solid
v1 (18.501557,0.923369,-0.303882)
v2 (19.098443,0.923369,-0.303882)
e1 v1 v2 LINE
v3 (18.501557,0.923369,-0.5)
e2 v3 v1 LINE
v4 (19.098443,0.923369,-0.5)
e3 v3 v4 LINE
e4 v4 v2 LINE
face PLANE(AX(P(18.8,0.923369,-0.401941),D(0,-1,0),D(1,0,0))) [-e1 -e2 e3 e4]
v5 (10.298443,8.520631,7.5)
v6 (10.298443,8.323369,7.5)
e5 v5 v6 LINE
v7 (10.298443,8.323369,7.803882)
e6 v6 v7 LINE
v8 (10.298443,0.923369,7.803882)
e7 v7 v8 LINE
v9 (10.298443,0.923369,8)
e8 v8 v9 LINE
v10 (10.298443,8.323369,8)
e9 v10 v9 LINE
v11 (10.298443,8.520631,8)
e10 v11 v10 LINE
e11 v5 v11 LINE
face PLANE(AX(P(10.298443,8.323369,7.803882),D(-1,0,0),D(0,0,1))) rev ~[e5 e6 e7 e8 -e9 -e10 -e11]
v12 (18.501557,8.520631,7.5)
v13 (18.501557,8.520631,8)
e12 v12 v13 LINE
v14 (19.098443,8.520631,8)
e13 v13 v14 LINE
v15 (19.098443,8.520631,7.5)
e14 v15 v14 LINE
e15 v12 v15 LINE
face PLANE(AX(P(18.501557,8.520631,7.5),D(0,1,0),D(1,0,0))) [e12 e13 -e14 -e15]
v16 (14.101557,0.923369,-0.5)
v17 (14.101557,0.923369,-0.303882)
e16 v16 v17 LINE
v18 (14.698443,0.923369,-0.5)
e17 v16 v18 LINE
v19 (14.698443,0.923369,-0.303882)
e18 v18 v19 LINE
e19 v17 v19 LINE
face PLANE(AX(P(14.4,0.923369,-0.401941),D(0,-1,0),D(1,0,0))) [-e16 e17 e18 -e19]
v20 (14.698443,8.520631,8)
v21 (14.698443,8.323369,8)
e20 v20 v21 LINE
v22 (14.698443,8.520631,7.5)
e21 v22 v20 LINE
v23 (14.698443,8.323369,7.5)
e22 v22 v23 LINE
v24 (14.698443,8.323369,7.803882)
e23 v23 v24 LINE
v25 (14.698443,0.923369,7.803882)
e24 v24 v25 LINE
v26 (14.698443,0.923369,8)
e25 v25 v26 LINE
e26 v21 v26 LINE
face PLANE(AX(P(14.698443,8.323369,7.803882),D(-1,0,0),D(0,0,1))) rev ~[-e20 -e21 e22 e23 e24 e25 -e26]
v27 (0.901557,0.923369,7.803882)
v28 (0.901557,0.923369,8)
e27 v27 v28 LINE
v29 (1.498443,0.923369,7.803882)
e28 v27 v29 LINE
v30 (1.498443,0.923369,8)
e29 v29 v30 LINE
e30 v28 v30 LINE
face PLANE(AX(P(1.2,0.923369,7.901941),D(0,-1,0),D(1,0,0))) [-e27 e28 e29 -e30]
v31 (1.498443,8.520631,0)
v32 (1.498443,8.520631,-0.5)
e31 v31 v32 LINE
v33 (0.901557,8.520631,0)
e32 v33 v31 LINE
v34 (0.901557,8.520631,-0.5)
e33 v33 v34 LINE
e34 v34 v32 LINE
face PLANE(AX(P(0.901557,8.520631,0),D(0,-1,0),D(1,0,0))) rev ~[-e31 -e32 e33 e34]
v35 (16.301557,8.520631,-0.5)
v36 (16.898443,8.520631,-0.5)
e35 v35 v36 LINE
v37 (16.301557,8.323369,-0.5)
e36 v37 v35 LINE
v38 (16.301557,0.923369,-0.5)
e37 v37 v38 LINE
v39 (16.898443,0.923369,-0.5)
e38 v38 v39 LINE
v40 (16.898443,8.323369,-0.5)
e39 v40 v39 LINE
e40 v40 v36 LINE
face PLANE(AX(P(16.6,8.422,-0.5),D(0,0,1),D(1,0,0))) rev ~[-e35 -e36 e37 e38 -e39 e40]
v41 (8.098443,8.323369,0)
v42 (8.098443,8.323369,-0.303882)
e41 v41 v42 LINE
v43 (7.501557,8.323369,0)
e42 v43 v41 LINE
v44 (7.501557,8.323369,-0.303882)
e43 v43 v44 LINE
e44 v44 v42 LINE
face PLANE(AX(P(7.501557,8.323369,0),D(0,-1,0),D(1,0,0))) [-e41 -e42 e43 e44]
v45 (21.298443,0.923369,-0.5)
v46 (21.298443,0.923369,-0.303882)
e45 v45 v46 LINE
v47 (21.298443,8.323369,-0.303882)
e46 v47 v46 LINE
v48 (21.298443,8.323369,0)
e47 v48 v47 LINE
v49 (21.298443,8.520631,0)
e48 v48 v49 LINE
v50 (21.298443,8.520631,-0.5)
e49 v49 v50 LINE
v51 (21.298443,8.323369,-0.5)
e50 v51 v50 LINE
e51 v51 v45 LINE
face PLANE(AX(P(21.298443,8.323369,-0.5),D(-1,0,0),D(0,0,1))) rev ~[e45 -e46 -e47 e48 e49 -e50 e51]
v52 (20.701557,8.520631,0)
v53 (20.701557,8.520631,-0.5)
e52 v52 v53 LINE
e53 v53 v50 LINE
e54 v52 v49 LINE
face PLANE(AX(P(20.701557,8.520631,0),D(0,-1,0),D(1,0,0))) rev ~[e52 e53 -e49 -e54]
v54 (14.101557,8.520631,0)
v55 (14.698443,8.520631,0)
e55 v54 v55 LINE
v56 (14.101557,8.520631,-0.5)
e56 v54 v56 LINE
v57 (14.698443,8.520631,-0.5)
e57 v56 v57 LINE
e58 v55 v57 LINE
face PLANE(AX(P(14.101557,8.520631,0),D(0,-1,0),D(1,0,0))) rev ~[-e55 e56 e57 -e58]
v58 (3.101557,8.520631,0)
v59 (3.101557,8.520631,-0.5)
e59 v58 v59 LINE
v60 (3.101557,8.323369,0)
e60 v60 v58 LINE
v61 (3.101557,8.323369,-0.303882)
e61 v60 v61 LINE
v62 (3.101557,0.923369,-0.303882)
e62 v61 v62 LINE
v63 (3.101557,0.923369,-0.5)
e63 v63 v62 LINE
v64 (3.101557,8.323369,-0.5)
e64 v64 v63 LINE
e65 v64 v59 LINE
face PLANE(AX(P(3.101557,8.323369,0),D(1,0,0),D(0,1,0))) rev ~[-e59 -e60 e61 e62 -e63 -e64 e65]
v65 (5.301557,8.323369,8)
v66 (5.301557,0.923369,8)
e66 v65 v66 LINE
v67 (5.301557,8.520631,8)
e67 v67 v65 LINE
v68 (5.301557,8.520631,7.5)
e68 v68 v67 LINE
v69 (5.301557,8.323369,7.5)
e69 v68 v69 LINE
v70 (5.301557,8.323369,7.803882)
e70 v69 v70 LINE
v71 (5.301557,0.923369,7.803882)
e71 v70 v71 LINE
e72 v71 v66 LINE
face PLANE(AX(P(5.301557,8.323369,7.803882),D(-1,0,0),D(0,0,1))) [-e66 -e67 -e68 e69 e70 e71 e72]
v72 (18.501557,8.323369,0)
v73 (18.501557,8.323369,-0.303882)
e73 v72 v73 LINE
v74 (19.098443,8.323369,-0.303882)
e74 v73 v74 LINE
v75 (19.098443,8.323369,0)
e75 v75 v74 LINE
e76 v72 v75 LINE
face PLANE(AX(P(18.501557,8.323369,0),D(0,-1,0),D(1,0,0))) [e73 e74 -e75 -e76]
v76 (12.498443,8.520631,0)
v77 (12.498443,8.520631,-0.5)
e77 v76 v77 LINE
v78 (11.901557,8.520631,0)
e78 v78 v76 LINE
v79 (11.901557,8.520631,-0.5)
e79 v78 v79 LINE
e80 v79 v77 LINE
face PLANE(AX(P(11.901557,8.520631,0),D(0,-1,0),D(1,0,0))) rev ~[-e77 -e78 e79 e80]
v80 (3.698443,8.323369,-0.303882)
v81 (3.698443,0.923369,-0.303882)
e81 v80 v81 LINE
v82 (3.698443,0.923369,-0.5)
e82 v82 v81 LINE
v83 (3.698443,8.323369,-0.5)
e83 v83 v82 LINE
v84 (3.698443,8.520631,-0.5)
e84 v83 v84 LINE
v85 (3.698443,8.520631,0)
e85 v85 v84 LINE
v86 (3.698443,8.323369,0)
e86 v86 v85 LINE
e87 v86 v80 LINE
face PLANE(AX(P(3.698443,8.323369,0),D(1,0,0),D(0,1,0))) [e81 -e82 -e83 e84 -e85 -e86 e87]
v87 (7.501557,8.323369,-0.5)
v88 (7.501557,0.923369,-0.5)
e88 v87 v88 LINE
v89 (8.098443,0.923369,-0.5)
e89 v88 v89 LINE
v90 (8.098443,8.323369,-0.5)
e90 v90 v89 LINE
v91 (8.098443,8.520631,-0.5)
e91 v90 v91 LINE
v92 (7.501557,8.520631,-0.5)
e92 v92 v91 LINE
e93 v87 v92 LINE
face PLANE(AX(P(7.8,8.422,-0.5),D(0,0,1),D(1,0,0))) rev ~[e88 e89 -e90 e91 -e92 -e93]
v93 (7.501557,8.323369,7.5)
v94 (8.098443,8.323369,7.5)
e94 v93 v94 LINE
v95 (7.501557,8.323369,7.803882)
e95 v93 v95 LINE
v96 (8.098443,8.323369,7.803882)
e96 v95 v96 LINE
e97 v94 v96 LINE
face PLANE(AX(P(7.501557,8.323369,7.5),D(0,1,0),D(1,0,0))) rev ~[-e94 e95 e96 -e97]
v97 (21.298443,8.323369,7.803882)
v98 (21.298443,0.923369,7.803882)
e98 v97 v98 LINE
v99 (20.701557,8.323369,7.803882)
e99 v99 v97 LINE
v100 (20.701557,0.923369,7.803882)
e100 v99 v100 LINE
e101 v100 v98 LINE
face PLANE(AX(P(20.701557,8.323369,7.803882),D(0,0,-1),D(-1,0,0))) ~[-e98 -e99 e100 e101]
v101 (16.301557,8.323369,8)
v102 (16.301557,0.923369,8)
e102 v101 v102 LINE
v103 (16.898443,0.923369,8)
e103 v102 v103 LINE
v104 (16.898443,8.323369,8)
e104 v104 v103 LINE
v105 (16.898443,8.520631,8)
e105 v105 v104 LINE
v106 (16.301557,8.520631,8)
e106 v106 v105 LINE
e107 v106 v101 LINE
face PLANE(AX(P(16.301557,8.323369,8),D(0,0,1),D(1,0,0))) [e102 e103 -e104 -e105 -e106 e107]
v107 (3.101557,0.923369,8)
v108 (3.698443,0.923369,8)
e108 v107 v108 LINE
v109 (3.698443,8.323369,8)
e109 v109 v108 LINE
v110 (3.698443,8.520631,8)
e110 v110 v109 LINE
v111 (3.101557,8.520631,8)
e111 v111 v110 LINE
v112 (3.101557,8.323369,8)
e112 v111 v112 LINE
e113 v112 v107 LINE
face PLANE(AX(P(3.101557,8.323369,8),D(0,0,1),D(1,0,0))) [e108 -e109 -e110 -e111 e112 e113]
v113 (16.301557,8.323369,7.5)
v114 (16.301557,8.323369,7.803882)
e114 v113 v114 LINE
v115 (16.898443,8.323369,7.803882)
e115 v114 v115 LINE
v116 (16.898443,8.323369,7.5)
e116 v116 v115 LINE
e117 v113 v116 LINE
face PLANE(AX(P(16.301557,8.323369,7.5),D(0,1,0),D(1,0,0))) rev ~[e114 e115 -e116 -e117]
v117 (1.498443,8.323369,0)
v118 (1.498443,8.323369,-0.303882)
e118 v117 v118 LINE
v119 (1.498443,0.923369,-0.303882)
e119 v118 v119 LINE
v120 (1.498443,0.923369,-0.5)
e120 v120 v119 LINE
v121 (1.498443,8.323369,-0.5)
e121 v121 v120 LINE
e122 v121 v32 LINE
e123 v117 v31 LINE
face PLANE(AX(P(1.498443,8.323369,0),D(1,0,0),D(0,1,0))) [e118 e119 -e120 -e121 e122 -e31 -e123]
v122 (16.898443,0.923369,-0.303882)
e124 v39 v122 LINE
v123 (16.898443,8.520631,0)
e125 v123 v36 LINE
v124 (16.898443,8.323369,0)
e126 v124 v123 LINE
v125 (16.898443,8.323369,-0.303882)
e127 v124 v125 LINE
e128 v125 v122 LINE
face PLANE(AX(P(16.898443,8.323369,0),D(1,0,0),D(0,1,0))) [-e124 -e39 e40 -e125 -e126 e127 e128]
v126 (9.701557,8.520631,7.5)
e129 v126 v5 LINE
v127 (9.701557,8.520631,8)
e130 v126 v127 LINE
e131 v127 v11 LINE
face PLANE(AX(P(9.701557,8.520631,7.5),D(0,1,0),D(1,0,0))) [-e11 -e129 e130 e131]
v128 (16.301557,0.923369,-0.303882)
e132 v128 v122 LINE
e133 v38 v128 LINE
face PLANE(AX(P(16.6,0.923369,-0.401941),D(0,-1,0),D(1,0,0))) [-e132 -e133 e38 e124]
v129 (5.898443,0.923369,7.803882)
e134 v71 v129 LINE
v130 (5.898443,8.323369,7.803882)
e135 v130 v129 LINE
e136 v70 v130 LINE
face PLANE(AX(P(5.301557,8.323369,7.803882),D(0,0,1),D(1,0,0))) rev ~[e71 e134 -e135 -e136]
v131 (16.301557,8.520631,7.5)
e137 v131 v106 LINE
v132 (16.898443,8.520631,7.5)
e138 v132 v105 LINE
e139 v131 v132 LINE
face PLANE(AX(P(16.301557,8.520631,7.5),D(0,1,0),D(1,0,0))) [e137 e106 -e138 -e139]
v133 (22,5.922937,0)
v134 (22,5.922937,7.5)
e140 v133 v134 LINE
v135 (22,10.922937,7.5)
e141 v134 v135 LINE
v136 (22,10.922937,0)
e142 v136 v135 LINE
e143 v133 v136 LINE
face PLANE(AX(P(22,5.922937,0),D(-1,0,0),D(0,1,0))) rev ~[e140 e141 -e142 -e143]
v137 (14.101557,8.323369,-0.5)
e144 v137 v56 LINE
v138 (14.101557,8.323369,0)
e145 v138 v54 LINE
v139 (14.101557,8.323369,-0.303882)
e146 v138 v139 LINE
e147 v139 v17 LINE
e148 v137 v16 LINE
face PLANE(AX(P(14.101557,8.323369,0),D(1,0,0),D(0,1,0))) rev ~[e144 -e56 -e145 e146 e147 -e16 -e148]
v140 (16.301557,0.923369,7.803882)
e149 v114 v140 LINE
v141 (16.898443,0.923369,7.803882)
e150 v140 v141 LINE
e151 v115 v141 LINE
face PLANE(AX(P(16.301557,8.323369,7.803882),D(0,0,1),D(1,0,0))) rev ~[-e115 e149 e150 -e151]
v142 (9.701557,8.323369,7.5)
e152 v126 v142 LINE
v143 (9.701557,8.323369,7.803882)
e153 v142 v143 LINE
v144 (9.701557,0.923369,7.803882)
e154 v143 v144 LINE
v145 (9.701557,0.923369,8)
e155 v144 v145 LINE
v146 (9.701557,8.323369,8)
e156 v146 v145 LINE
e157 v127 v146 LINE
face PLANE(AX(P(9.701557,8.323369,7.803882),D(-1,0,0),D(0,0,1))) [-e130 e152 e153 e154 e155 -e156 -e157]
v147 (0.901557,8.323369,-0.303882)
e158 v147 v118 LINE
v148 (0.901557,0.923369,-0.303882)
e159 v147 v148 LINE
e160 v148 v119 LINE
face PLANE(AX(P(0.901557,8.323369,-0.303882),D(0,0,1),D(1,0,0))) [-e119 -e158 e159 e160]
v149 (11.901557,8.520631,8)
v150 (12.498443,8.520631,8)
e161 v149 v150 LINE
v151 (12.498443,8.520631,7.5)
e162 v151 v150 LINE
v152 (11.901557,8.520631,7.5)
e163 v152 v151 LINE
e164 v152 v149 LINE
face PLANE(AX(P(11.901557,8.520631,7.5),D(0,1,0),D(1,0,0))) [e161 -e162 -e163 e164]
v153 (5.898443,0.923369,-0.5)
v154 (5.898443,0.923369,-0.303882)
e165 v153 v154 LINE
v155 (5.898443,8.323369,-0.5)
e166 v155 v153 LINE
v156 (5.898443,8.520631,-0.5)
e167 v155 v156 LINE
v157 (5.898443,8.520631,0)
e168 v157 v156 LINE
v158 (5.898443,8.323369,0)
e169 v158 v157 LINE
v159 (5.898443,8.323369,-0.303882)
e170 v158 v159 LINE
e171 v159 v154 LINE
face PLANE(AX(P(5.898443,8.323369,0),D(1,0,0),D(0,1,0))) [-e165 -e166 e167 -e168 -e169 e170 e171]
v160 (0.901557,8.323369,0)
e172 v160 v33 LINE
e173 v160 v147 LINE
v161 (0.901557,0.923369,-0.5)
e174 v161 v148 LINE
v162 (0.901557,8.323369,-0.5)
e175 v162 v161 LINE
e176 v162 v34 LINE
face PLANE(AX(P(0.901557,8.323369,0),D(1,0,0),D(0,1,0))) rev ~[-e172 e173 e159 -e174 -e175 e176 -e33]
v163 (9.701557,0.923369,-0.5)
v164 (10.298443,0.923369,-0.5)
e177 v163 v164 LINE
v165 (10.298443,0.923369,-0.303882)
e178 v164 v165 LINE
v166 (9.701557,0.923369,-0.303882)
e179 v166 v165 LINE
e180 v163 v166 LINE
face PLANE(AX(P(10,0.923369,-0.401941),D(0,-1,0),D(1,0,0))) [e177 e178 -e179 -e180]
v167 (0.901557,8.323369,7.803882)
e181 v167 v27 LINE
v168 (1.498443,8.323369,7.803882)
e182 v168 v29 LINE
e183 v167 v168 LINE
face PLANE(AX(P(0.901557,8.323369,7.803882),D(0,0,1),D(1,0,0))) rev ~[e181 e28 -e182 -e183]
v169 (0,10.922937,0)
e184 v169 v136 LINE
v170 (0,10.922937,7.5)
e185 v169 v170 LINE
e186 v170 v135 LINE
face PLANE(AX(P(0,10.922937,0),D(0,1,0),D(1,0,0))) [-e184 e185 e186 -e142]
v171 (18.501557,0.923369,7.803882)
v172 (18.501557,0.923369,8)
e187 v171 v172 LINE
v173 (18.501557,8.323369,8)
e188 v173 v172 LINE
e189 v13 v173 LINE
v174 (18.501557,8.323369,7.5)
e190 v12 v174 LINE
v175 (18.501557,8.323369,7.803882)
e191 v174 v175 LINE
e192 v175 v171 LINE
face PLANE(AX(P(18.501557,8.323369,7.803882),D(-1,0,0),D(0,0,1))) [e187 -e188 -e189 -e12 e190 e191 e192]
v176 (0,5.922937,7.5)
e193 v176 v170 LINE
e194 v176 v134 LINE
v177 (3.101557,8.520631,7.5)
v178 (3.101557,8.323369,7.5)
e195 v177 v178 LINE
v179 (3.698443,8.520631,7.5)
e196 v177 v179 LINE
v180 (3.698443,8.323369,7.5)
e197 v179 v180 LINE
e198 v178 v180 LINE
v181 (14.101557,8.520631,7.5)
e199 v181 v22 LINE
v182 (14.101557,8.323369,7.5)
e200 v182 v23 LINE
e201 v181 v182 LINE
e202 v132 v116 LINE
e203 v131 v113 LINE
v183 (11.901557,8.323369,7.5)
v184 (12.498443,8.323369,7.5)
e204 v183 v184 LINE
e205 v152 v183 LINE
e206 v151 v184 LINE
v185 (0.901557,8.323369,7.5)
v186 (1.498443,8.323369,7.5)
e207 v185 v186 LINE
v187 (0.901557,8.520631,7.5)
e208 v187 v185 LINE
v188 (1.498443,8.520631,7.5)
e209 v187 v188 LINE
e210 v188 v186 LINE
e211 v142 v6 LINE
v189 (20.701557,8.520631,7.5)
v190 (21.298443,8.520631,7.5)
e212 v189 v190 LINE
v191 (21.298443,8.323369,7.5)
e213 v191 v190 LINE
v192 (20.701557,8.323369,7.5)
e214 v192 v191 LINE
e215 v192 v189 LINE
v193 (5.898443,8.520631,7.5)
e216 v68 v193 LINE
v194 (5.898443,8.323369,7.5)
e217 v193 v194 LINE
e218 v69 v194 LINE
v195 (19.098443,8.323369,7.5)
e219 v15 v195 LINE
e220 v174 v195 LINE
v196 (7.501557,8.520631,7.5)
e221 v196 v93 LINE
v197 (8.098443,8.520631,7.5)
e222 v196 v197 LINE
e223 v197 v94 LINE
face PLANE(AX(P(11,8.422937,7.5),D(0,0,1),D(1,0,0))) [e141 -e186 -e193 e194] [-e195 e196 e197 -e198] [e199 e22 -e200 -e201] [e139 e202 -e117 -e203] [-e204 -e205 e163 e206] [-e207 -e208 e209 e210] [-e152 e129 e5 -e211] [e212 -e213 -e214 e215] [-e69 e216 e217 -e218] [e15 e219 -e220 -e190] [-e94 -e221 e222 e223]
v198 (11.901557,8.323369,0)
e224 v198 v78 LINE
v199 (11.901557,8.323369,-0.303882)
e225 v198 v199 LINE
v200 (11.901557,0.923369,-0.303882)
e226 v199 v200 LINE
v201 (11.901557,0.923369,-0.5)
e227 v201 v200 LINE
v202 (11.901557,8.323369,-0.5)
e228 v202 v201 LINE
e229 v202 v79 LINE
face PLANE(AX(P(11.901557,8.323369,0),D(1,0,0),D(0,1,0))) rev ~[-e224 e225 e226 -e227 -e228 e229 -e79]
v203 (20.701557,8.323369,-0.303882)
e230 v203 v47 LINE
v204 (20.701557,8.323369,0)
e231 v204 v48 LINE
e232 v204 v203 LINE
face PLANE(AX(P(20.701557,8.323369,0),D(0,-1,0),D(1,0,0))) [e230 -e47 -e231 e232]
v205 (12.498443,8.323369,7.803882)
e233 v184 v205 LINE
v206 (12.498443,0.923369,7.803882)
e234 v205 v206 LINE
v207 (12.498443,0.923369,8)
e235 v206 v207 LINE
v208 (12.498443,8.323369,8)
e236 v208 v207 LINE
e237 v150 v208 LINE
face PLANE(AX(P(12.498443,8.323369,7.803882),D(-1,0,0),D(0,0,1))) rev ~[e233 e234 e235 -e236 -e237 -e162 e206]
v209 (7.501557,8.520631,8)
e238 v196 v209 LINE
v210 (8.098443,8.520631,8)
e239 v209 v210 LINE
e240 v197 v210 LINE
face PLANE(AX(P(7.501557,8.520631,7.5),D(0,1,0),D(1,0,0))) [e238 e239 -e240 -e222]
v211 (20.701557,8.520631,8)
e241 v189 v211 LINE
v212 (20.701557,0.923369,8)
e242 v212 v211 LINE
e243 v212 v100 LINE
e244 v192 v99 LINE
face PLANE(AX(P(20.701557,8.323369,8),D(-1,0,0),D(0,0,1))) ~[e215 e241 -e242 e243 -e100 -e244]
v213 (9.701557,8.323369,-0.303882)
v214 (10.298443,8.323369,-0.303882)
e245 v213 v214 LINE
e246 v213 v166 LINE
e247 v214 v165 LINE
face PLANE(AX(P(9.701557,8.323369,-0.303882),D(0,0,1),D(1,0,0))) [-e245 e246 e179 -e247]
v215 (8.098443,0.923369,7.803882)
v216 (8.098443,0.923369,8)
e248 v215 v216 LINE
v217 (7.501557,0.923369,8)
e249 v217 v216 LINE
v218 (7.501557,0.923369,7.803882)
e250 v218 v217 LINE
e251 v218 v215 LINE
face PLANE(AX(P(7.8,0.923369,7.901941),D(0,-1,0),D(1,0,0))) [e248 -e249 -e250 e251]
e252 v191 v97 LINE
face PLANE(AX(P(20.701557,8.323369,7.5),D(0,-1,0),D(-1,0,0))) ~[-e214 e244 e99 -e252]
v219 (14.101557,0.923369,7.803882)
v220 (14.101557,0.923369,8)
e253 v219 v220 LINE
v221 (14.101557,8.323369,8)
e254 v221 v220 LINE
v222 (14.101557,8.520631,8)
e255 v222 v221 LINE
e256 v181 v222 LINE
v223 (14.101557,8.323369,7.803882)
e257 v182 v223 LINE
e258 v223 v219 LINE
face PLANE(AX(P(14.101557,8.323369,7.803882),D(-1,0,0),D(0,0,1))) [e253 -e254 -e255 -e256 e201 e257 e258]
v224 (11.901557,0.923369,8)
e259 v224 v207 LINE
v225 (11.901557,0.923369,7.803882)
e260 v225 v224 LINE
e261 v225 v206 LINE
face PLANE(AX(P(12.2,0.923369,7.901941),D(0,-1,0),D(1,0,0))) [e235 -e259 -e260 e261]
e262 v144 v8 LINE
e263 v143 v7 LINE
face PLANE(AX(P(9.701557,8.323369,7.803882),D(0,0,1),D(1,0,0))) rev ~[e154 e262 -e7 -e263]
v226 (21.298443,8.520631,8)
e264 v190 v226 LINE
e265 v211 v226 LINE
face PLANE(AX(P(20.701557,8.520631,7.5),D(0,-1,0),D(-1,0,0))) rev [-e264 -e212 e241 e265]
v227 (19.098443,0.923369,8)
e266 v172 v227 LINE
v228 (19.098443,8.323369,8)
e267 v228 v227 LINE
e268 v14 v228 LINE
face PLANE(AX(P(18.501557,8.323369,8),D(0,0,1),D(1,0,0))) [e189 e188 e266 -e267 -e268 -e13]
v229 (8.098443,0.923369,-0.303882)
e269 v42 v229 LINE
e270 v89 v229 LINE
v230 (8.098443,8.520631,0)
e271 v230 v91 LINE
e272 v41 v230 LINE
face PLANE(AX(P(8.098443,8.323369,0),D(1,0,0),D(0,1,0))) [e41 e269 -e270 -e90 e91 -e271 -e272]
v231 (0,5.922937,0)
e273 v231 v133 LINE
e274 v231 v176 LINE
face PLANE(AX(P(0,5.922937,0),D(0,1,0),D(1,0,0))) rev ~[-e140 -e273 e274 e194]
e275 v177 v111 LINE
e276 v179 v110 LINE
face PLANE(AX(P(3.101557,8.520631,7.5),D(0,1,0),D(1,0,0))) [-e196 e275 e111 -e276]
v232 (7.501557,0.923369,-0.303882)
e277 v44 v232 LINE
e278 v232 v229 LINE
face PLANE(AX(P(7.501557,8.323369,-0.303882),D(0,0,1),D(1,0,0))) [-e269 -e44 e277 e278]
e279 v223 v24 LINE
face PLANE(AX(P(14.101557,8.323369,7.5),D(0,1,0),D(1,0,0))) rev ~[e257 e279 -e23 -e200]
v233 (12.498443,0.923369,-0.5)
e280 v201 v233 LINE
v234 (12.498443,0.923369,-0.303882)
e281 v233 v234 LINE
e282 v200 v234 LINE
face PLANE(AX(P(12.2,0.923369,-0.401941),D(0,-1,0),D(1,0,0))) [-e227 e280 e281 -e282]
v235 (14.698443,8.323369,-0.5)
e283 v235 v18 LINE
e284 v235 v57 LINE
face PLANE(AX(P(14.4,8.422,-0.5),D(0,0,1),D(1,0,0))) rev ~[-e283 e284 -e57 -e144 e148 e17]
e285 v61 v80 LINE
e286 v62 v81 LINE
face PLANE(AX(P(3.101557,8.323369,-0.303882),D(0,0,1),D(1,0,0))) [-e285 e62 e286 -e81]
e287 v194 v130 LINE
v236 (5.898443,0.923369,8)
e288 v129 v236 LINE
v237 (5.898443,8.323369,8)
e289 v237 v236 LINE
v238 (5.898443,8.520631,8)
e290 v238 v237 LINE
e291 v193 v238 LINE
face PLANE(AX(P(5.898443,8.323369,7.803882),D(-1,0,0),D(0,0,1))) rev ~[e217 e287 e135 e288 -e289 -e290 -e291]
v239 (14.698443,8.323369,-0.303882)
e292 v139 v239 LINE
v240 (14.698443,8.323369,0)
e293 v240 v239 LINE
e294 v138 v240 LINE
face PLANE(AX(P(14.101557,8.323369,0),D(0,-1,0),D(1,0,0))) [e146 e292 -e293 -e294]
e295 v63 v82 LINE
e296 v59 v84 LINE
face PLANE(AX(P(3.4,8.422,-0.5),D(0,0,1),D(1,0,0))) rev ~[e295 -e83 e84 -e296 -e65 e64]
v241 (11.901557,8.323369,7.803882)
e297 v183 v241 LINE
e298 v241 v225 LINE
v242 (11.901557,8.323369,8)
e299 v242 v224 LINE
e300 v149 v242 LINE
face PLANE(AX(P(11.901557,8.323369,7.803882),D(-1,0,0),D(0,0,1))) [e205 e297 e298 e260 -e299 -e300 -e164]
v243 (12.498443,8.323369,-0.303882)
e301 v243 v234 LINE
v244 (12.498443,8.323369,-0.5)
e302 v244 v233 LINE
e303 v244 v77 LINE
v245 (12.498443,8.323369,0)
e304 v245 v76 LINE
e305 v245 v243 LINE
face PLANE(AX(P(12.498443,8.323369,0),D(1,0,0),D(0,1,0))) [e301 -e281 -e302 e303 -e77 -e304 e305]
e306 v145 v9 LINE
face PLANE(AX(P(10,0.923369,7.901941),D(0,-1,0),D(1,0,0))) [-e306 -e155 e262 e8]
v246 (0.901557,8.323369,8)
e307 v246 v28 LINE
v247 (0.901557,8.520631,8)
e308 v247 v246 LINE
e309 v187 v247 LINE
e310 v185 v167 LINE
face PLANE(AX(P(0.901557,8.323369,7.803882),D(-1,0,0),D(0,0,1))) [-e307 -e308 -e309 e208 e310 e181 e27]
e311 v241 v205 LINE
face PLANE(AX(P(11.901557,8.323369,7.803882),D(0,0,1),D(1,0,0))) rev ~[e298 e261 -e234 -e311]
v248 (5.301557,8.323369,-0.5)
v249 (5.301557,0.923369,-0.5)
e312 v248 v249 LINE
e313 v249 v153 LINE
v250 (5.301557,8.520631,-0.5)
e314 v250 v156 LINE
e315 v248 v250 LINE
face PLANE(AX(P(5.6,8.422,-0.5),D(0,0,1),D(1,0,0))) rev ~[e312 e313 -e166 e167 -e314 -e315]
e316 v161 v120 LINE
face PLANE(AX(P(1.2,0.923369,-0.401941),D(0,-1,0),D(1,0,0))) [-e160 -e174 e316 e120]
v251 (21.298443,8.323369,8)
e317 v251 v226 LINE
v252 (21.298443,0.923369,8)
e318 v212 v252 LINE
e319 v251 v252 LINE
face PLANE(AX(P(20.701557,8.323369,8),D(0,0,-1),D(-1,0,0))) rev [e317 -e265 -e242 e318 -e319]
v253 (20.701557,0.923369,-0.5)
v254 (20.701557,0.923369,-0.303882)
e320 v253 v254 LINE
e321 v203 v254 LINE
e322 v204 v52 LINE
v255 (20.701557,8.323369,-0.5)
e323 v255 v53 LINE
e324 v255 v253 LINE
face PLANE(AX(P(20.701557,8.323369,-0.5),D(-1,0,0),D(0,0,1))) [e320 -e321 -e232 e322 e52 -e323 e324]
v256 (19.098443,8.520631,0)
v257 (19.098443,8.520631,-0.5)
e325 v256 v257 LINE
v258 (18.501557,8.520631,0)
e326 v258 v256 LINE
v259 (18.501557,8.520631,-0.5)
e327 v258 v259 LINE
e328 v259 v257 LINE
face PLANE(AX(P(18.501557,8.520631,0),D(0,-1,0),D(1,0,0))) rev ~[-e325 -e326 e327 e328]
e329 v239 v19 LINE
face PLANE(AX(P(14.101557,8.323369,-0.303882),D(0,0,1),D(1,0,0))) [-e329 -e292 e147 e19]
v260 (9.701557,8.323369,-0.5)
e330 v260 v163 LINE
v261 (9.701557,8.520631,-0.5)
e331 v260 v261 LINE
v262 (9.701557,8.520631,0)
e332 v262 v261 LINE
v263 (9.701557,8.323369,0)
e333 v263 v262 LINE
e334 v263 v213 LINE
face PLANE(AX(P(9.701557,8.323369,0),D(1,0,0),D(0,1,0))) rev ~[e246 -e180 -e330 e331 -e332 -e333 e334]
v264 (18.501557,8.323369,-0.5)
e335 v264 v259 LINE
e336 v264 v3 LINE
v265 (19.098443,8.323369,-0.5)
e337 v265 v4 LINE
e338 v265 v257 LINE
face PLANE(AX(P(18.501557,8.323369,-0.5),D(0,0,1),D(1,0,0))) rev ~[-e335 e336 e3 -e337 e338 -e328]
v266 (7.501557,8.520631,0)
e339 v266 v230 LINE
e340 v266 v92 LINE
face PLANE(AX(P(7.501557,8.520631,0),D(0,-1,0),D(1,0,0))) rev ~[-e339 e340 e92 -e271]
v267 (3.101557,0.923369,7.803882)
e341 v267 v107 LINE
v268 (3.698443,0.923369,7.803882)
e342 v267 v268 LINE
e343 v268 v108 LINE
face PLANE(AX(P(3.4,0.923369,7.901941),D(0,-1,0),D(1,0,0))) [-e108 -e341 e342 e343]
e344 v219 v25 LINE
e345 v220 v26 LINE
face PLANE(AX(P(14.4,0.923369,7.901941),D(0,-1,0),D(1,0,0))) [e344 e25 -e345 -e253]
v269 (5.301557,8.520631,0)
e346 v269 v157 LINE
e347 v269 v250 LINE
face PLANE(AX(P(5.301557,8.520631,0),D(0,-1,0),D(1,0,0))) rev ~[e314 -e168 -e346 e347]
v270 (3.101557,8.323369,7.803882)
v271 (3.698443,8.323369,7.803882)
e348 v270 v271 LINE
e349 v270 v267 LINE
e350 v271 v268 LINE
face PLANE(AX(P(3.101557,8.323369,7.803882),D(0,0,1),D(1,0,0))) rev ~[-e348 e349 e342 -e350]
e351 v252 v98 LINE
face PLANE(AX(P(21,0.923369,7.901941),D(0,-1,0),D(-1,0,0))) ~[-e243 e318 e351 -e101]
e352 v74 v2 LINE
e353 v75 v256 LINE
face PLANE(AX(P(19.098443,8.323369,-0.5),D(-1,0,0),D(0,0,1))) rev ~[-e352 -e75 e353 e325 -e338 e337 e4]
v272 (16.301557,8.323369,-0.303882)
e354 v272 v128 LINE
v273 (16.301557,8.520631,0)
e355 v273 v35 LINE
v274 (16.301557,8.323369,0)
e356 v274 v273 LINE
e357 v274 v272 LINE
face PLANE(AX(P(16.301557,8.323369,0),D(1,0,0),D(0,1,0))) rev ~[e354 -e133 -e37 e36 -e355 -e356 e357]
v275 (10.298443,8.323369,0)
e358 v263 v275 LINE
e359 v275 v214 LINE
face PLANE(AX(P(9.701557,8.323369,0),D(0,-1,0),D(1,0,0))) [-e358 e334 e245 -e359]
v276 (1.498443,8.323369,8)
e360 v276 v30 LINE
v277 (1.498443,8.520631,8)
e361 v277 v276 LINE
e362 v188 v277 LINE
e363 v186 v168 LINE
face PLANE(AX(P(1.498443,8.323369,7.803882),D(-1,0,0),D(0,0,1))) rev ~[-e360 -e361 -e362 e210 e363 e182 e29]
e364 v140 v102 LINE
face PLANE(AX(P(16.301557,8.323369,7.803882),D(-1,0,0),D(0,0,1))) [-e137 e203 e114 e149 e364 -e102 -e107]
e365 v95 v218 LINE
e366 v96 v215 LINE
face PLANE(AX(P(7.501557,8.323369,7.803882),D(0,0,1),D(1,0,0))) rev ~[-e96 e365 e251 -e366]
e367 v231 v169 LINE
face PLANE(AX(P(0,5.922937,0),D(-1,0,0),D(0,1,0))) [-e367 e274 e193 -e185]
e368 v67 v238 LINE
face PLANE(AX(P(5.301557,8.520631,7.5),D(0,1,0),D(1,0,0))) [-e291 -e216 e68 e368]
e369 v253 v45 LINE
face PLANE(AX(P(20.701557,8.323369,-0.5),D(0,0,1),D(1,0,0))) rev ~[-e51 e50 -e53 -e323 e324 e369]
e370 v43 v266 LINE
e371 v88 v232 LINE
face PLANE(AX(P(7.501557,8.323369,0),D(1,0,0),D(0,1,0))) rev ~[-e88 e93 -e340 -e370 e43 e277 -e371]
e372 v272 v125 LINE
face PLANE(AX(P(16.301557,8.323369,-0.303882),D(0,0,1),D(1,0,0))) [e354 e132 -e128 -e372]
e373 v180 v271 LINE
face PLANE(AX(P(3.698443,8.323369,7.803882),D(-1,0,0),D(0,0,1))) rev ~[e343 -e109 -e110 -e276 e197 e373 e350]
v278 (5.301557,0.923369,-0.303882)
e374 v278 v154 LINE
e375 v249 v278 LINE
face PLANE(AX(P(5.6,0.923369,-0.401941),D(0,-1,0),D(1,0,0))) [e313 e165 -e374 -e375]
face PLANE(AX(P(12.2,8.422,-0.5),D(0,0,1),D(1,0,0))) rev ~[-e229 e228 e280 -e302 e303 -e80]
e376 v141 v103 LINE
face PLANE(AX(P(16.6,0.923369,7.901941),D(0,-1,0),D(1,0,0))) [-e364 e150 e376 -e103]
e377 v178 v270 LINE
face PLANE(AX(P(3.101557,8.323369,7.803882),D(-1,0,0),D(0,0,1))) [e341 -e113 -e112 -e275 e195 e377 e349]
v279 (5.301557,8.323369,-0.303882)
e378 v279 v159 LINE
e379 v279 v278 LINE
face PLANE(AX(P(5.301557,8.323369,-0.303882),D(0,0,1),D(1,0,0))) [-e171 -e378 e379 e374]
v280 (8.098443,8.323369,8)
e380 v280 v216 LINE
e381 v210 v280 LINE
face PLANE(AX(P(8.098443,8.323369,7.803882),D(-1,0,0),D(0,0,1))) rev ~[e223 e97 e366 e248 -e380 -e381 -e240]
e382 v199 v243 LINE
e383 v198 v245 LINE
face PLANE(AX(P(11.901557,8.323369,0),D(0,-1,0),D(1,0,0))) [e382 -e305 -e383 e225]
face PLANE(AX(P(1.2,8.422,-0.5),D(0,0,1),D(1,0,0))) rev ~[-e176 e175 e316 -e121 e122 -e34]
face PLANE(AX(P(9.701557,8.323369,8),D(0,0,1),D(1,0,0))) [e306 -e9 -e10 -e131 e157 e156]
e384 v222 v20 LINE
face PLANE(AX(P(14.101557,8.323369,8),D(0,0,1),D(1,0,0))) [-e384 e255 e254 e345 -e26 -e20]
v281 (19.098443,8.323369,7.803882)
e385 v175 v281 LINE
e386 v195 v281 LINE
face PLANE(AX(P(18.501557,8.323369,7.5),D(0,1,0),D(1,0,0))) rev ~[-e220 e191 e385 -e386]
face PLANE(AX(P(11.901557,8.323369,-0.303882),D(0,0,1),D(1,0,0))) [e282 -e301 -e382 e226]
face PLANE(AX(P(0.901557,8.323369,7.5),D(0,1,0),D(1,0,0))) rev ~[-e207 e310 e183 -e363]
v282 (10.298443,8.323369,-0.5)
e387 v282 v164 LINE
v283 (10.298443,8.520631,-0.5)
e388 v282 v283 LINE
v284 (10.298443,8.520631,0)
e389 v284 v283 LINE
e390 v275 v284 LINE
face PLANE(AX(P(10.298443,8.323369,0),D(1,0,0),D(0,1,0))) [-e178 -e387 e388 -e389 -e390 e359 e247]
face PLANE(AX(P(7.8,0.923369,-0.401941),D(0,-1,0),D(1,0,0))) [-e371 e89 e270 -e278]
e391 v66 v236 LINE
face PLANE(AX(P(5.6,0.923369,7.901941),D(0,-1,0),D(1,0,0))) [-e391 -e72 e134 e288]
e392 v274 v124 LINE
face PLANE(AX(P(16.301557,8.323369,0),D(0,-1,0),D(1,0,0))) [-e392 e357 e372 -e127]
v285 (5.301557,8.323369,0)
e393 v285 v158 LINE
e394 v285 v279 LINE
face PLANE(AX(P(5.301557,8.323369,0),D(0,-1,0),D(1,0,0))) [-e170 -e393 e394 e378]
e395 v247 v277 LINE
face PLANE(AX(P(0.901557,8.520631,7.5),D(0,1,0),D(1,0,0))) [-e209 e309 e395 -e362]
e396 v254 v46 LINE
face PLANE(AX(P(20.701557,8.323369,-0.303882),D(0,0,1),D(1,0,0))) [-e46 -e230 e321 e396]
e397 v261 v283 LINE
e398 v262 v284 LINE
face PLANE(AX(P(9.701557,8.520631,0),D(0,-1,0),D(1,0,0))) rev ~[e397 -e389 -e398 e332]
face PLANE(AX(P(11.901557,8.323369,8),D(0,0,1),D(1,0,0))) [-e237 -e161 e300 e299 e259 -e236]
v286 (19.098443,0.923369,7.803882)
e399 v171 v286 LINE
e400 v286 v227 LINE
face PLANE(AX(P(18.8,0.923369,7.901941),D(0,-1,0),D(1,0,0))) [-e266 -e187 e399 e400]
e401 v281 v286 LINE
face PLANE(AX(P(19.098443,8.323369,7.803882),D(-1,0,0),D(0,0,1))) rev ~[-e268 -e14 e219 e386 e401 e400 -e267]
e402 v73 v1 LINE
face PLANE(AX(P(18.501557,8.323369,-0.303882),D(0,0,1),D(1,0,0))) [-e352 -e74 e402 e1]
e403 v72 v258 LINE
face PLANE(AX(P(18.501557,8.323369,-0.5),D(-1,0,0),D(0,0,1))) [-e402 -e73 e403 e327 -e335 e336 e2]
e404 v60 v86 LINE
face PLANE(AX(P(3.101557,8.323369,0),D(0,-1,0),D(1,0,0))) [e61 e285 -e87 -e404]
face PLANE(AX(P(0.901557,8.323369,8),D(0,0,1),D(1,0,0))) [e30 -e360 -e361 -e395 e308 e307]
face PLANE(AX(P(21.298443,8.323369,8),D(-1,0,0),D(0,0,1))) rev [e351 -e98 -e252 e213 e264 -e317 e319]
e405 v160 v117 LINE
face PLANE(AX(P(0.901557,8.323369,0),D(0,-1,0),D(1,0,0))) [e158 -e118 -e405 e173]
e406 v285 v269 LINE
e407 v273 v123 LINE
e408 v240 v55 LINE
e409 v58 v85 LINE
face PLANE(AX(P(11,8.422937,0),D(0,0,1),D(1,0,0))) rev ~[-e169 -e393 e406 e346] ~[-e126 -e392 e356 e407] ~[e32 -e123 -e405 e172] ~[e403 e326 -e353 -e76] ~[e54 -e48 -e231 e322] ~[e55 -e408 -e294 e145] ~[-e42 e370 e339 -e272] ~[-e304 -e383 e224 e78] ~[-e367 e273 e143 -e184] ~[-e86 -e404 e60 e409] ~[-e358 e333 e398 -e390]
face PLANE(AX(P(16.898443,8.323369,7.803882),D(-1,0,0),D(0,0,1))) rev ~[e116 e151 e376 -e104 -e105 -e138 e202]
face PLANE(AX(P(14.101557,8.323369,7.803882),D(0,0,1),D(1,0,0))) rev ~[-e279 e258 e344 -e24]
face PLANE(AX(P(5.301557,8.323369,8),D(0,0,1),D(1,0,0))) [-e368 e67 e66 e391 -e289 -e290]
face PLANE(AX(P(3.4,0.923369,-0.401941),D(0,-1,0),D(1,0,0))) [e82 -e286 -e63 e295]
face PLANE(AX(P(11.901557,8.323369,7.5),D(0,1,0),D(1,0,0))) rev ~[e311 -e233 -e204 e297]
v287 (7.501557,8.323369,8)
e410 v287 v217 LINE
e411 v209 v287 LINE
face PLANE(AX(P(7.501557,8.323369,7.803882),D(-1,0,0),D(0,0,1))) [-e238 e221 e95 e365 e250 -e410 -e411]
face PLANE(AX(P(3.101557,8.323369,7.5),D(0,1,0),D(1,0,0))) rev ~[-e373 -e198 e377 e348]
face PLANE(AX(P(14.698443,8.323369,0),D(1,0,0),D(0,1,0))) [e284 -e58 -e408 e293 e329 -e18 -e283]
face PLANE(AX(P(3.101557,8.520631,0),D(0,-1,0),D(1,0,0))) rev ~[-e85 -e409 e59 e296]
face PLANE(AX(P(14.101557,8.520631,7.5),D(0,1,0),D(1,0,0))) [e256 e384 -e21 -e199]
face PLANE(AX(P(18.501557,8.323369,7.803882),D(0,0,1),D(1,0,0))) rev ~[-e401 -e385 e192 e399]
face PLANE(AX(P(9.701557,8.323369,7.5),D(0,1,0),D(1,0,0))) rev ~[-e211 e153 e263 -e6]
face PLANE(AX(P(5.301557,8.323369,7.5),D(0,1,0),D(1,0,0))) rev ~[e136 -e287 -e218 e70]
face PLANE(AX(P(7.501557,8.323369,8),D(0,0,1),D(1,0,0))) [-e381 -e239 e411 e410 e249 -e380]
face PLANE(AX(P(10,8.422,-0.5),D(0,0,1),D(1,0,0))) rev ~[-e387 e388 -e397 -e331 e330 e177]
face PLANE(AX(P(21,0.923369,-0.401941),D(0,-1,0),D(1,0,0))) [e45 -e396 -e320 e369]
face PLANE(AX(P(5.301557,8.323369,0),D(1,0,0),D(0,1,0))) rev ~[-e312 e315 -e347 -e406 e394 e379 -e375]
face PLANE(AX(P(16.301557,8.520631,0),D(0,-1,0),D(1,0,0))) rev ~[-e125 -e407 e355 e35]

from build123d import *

# Parameters (mm, degrees)
SKETCH2_W                = 22
SKETCH2_H                = 5
BOSS_EXTRUDE2_DEPTH      = 7.5
SKETCH16_W               = 0.596885676
SKETCH16_H               = 0.19726192
BOSS_EXTRUDE6_DEPTH      = 0.5
SKETCH17_W               = 0.596885676
SKETCH17_H               = 0.196118077
BOSS_EXTRUDE7_DEPTH      = 7.4
LPATTERN2_COUNT          = 10
LPATTERN2_PITCH          = 2.2
MIRROR1_COPY_1_SKETCH_W  = 0.596885676
MIRROR1_COPY_1_SKETCH_H  = 0.19726192
MIRROR1_COPY_1_DEPTH     = 0.5
MIRROR1_COPY_2_SKETCH_W  = 0.596885676
MIRROR1_COPY_2_SKETCH_H  = 0.19726192
MIRROR1_COPY_2_DEPTH     = 0.5
MIRROR1_COPY_3_SKETCH_W  = 0.596885676
MIRROR1_COPY_3_SKETCH_H  = 0.19726192
MIRROR1_COPY_3_DEPTH     = 0.5
MIRROR1_COPY_4_SKETCH_W  = 0.596885676
MIRROR1_COPY_4_SKETCH_H  = 0.19726192
MIRROR1_COPY_4_DEPTH     = 0.5
MIRROR1_COPY_5_SKETCH_W  = 0.596885676
MIRROR1_COPY_5_SKETCH_H  = 0.19726192
MIRROR1_COPY_5_DEPTH     = 0.5
MIRROR1_COPY_6_SKETCH_W  = 0.596885676
MIRROR1_COPY_6_SKETCH_H  = 0.19726192
MIRROR1_COPY_6_DEPTH     = 0.5
MIRROR1_COPY_7_SKETCH_W  = 0.596885676
MIRROR1_COPY_7_SKETCH_H  = 0.19726192
MIRROR1_COPY_7_DEPTH     = 0.5
MIRROR1_COPY_8_SKETCH_W  = 0.596885676
MIRROR1_COPY_8_SKETCH_H  = 0.19726192
MIRROR1_COPY_8_DEPTH     = 0.5
MIRROR1_COPY_9_SKETCH_W  = 0.596885676
MIRROR1_COPY_9_SKETCH_H  = 0.19726192
MIRROR1_COPY_9_DEPTH     = 0.5
MIRROR1_COPY_10_SKETCH_W = 0.596885676
MIRROR1_COPY_10_SKETCH_H = 0.196118077
MIRROR1_COPY_10_DEPTH    = 7.4
MIRROR1_COPY_11_SKETCH_W = 0.596885676
MIRROR1_COPY_11_SKETCH_H = 0.196118077
MIRROR1_COPY_11_DEPTH    = 7.4
MIRROR1_COPY_12_SKETCH_W = 0.596885676
MIRROR1_COPY_12_SKETCH_H = 0.196118077
MIRROR1_COPY_12_DEPTH    = 7.4
MIRROR1_COPY_13_SKETCH_W = 0.596885676
MIRROR1_COPY_13_SKETCH_H = 0.196118077
MIRROR1_COPY_13_DEPTH    = 7.4
MIRROR1_COPY_14_SKETCH_W = 0.596885676
MIRROR1_COPY_14_SKETCH_H = 0.196118077
MIRROR1_COPY_14_DEPTH    = 7.4
MIRROR1_COPY_15_SKETCH_W = 0.596885676
MIRROR1_COPY_15_SKETCH_H = 0.196118077
MIRROR1_COPY_15_DEPTH    = 7.4
MIRROR1_COPY_16_SKETCH_W = 0.596885676
MIRROR1_COPY_16_SKETCH_H = 0.196118077
MIRROR1_COPY_16_DEPTH    = 7.4
MIRROR1_COPY_17_SKETCH_W = 0.596885676
MIRROR1_COPY_17_SKETCH_H = 0.196118077
MIRROR1_COPY_17_DEPTH    = 7.4
MIRROR1_COPY_18_SKETCH_W = 0.596885676
MIRROR1_COPY_18_SKETCH_H = 0.196118077
MIRROR1_COPY_18_DEPTH    = 7.4


with BuildPart() as part:
    # Sketch2 → Boss-Extrude2 (new body)
    with BuildSketch(Plane(origin=(0, 5.922936542, 0), x_dir=(1, 0, 0), z_dir=(0, 0, 1))):
        with Locations((11, 2.5)):
            Rectangle(SKETCH2_W, SKETCH2_H)
    extrude(amount=BOSS_EXTRUDE2_DEPTH)

    # Sketch16 → Boss-Extrude6 (add)
    with BuildSketch(Plane.XY):
        with Locations((21, 8.422)):
            Rectangle(SKETCH16_W, SKETCH16_H)
    boss_extrude6 = extrude(amount=-BOSS_EXTRUDE6_DEPTH)

    # Sketch17 → Boss-Extrude7 (add)
    with BuildSketch(Plane.XZ.offset(-8.32336904)):
        with Locations((21, -0.401940962)):
            Rectangle(SKETCH17_W, SKETCH17_H)
    boss_extrude7 = extrude(amount=BOSS_EXTRUDE7_DEPTH)

    # LPattern2: Boss-Extrude6, Boss-Extrude7 ×10
    with Locations(*[(-i * LPATTERN2_PITCH, 0, 0) for i in range(1, LPATTERN2_COUNT)]):
        add(boss_extrude6)
        add(boss_extrude7)

    # Mirror1: Boss-Extrude6, Boss-Extrude7 across plane
    add(boss_extrude6.mirror(Plane(origin=(0, 0, 3.75), x_dir=(1, 0, 0), z_dir=(0, 0, -1))))
    add(boss_extrude7.mirror(Plane(origin=(0, 0, 3.75), x_dir=(1, 0, 0), z_dir=(0, 0, -1))))

    # Mirror1 copy 1 sketch → Mirror1 copy 1 (add)
    with BuildSketch(Plane(origin=(-2.2, 0, 7.5), x_dir=(1, 0, 0), z_dir=(0, 0, -1))):
        with Locations((21, -8.422)):
            Rectangle(MIRROR1_COPY_1_SKETCH_W, MIRROR1_COPY_1_SKETCH_H)
    extrude(amount=-MIRROR1_COPY_1_DEPTH)

    # Mirror1 copy 2 sketch → Mirror1 copy 2 (add)
    with BuildSketch(Plane(origin=(-4.4, 0, 7.5), x_dir=(1, 0, 0), z_dir=(0, 0, -1))):
        with Locations((21, -8.422)):
            Rectangle(MIRROR1_COPY_2_SKETCH_W, MIRROR1_COPY_2_SKETCH_H)
    extrude(amount=-MIRROR1_COPY_2_DEPTH)

    # Mirror1 copy 3 sketch → Mirror1 copy 3 (add)
    with BuildSketch(Plane(origin=(-6.6, 0, 7.5), x_dir=(1, 0, 0), z_dir=(0, 0, -1))):
        with Locations((21, -8.422)):
            Rectangle(MIRROR1_COPY_3_SKETCH_W, MIRROR1_COPY_3_SKETCH_H)
    extrude(amount=-MIRROR1_COPY_3_DEPTH)

    # Mirror1 copy 4 sketch → Mirror1 copy 4 (add)
    with BuildSketch(Plane(origin=(-8.8, 0, 7.5), x_dir=(1, 0, 0), z_dir=(0, 0, -1))):
        with Locations((21, -8.422)):
            Rectangle(MIRROR1_COPY_4_SKETCH_W, MIRROR1_COPY_4_SKETCH_H)
    extrude(amount=-MIRROR1_COPY_4_DEPTH)

    # Mirror1 copy 5 sketch → Mirror1 copy 5 (add)
    with BuildSketch(Plane(origin=(-11, 0, 7.5), x_dir=(1, 0, 0), z_dir=(0, 0, -1))):
        with Locations((21, -8.422)):
            Rectangle(MIRROR1_COPY_5_SKETCH_W, MIRROR1_COPY_5_SKETCH_H)
    extrude(amount=-MIRROR1_COPY_5_DEPTH)

    # Mirror1 copy 6 sketch → Mirror1 copy 6 (add)
    with BuildSketch(Plane(origin=(-13.2, 0, 7.5), x_dir=(1, 0, 0), z_dir=(0, 0, -1))):
        with Locations((21, -8.422)):
            Rectangle(MIRROR1_COPY_6_SKETCH_W, MIRROR1_COPY_6_SKETCH_H)
    extrude(amount=-MIRROR1_COPY_6_DEPTH)

    # Mirror1 copy 7 sketch → Mirror1 copy 7 (add)
    with BuildSketch(Plane(origin=(-15.4, 0, 7.5), x_dir=(1, 0, 0), z_dir=(0, 0, -1))):
        with Locations((21, -8.422)):
            Rectangle(MIRROR1_COPY_7_SKETCH_W, MIRROR1_COPY_7_SKETCH_H)
    extrude(amount=-MIRROR1_COPY_7_DEPTH)

    # Mirror1 copy 8 sketch → Mirror1 copy 8 (add)
    with BuildSketch(Plane(origin=(-17.6, 0, 7.5), x_dir=(1, 0, 0), z_dir=(0, 0, -1))):
        with Locations((21, -8.422)):
            Rectangle(MIRROR1_COPY_8_SKETCH_W, MIRROR1_COPY_8_SKETCH_H)
    extrude(amount=-MIRROR1_COPY_8_DEPTH)

    # Mirror1 copy 9 sketch → Mirror1 copy 9 (add)
    with BuildSketch(Plane(origin=(-19.8, 0, 7.5), x_dir=(1, 0, 0), z_dir=(0, 0, -1))):
        with Locations((21, -8.422)):
            Rectangle(MIRROR1_COPY_9_SKETCH_W, MIRROR1_COPY_9_SKETCH_H)
    extrude(amount=-MIRROR1_COPY_9_DEPTH)

    # Mirror1 copy 10 sketch → Mirror1 copy 10 (add)
    with BuildSketch(Plane(origin=(-2.2, 8.32336904, 7.5), x_dir=(1, 0, 0), z_dir=(0, -1, 0))):
        with Locations((21, 0.401940962)):
            Rectangle(MIRROR1_COPY_10_SKETCH_W, MIRROR1_COPY_10_SKETCH_H)
    extrude(amount=MIRROR1_COPY_10_DEPTH)

    # Mirror1 copy 11 sketch → Mirror1 copy 11 (add)
    with BuildSketch(Plane(origin=(-4.4, 8.32336904, 7.5), x_dir=(1, 0, 0), z_dir=(0, -1, 0))):
        with Locations((21, 0.401940962)):
            Rectangle(MIRROR1_COPY_11_SKETCH_W, MIRROR1_COPY_11_SKETCH_H)
    extrude(amount=MIRROR1_COPY_11_DEPTH)

    # Mirror1 copy 12 sketch → Mirror1 copy 12 (add)
    with BuildSketch(Plane(origin=(-6.6, 8.32336904, 7.5), x_dir=(1, 0, 0), z_dir=(0, -1, 0))):
        with Locations((21, 0.401940962)):
            Rectangle(MIRROR1_COPY_12_SKETCH_W, MIRROR1_COPY_12_SKETCH_H)
    extrude(amount=MIRROR1_COPY_12_DEPTH)

    # Mirror1 copy 13 sketch → Mirror1 copy 13 (add)
    with BuildSketch(Plane(origin=(-8.8, 8.32336904, 7.5), x_dir=(1, 0, 0), z_dir=(0, -1, 0))):
        with Locations((21, 0.401940962)):
            Rectangle(MIRROR1_COPY_13_SKETCH_W, MIRROR1_COPY_13_SKETCH_H)
    extrude(amount=MIRROR1_COPY_13_DEPTH)

    # Mirror1 copy 14 sketch → Mirror1 copy 14 (add)
    with BuildSketch(Plane(origin=(-11, 8.32336904, 7.5), x_dir=(1, 0, 0), z_dir=(0, -1, 0))):
        with Locations((21, 0.401940962)):
            Rectangle(MIRROR1_COPY_14_SKETCH_W, MIRROR1_COPY_14_SKETCH_H)
    extrude(amount=MIRROR1_COPY_14_DEPTH)

    # Mirror1 copy 15 sketch → Mirror1 copy 15 (add)
    with BuildSketch(Plane(origin=(-13.2, 8.32336904, 7.5), x_dir=(1, 0, 0), z_dir=(0, -1, 0))):
        with Locations((21, 0.401940962)):
            Rectangle(MIRROR1_COPY_15_SKETCH_W, MIRROR1_COPY_15_SKETCH_H)
    extrude(amount=MIRROR1_COPY_15_DEPTH)

    # Mirror1 copy 16 sketch → Mirror1 copy 16 (add)
    with BuildSketch(Plane(origin=(-15.4, 8.32336904, 7.5), x_dir=(1, 0, 0), z_dir=(0, -1, 0))):
        with Locations((21, 0.401940962)):
            Rectangle(MIRROR1_COPY_16_SKETCH_W, MIRROR1_COPY_16_SKETCH_H)
    extrude(amount=MIRROR1_COPY_16_DEPTH)

    # Mirror1 copy 17 sketch → Mirror1 copy 17 (add)
    with BuildSketch(Plane(origin=(-17.6, 8.32336904, 7.5), x_dir=(1, 0, 0), z_dir=(0, -1, 0))):
        with Locations((21, 0.401940962)):
            Rectangle(MIRROR1_COPY_17_SKETCH_W, MIRROR1_COPY_17_SKETCH_H)
    extrude(amount=MIRROR1_COPY_17_DEPTH)

    # Mirror1 copy 18 sketch → Mirror1 copy 18 (add)
    with BuildSketch(Plane(origin=(-19.8, 8.32336904, 7.5), x_dir=(1, 0, 0), z_dir=(0, -1, 0))):
        with Locations((21, 0.401940962)):
            Rectangle(MIRROR1_COPY_18_SKETCH_W, MIRROR1_COPY_18_SKETCH_H)
    extrude(amount=MIRROR1_COPY_18_DEPTH)


solid = part.part
